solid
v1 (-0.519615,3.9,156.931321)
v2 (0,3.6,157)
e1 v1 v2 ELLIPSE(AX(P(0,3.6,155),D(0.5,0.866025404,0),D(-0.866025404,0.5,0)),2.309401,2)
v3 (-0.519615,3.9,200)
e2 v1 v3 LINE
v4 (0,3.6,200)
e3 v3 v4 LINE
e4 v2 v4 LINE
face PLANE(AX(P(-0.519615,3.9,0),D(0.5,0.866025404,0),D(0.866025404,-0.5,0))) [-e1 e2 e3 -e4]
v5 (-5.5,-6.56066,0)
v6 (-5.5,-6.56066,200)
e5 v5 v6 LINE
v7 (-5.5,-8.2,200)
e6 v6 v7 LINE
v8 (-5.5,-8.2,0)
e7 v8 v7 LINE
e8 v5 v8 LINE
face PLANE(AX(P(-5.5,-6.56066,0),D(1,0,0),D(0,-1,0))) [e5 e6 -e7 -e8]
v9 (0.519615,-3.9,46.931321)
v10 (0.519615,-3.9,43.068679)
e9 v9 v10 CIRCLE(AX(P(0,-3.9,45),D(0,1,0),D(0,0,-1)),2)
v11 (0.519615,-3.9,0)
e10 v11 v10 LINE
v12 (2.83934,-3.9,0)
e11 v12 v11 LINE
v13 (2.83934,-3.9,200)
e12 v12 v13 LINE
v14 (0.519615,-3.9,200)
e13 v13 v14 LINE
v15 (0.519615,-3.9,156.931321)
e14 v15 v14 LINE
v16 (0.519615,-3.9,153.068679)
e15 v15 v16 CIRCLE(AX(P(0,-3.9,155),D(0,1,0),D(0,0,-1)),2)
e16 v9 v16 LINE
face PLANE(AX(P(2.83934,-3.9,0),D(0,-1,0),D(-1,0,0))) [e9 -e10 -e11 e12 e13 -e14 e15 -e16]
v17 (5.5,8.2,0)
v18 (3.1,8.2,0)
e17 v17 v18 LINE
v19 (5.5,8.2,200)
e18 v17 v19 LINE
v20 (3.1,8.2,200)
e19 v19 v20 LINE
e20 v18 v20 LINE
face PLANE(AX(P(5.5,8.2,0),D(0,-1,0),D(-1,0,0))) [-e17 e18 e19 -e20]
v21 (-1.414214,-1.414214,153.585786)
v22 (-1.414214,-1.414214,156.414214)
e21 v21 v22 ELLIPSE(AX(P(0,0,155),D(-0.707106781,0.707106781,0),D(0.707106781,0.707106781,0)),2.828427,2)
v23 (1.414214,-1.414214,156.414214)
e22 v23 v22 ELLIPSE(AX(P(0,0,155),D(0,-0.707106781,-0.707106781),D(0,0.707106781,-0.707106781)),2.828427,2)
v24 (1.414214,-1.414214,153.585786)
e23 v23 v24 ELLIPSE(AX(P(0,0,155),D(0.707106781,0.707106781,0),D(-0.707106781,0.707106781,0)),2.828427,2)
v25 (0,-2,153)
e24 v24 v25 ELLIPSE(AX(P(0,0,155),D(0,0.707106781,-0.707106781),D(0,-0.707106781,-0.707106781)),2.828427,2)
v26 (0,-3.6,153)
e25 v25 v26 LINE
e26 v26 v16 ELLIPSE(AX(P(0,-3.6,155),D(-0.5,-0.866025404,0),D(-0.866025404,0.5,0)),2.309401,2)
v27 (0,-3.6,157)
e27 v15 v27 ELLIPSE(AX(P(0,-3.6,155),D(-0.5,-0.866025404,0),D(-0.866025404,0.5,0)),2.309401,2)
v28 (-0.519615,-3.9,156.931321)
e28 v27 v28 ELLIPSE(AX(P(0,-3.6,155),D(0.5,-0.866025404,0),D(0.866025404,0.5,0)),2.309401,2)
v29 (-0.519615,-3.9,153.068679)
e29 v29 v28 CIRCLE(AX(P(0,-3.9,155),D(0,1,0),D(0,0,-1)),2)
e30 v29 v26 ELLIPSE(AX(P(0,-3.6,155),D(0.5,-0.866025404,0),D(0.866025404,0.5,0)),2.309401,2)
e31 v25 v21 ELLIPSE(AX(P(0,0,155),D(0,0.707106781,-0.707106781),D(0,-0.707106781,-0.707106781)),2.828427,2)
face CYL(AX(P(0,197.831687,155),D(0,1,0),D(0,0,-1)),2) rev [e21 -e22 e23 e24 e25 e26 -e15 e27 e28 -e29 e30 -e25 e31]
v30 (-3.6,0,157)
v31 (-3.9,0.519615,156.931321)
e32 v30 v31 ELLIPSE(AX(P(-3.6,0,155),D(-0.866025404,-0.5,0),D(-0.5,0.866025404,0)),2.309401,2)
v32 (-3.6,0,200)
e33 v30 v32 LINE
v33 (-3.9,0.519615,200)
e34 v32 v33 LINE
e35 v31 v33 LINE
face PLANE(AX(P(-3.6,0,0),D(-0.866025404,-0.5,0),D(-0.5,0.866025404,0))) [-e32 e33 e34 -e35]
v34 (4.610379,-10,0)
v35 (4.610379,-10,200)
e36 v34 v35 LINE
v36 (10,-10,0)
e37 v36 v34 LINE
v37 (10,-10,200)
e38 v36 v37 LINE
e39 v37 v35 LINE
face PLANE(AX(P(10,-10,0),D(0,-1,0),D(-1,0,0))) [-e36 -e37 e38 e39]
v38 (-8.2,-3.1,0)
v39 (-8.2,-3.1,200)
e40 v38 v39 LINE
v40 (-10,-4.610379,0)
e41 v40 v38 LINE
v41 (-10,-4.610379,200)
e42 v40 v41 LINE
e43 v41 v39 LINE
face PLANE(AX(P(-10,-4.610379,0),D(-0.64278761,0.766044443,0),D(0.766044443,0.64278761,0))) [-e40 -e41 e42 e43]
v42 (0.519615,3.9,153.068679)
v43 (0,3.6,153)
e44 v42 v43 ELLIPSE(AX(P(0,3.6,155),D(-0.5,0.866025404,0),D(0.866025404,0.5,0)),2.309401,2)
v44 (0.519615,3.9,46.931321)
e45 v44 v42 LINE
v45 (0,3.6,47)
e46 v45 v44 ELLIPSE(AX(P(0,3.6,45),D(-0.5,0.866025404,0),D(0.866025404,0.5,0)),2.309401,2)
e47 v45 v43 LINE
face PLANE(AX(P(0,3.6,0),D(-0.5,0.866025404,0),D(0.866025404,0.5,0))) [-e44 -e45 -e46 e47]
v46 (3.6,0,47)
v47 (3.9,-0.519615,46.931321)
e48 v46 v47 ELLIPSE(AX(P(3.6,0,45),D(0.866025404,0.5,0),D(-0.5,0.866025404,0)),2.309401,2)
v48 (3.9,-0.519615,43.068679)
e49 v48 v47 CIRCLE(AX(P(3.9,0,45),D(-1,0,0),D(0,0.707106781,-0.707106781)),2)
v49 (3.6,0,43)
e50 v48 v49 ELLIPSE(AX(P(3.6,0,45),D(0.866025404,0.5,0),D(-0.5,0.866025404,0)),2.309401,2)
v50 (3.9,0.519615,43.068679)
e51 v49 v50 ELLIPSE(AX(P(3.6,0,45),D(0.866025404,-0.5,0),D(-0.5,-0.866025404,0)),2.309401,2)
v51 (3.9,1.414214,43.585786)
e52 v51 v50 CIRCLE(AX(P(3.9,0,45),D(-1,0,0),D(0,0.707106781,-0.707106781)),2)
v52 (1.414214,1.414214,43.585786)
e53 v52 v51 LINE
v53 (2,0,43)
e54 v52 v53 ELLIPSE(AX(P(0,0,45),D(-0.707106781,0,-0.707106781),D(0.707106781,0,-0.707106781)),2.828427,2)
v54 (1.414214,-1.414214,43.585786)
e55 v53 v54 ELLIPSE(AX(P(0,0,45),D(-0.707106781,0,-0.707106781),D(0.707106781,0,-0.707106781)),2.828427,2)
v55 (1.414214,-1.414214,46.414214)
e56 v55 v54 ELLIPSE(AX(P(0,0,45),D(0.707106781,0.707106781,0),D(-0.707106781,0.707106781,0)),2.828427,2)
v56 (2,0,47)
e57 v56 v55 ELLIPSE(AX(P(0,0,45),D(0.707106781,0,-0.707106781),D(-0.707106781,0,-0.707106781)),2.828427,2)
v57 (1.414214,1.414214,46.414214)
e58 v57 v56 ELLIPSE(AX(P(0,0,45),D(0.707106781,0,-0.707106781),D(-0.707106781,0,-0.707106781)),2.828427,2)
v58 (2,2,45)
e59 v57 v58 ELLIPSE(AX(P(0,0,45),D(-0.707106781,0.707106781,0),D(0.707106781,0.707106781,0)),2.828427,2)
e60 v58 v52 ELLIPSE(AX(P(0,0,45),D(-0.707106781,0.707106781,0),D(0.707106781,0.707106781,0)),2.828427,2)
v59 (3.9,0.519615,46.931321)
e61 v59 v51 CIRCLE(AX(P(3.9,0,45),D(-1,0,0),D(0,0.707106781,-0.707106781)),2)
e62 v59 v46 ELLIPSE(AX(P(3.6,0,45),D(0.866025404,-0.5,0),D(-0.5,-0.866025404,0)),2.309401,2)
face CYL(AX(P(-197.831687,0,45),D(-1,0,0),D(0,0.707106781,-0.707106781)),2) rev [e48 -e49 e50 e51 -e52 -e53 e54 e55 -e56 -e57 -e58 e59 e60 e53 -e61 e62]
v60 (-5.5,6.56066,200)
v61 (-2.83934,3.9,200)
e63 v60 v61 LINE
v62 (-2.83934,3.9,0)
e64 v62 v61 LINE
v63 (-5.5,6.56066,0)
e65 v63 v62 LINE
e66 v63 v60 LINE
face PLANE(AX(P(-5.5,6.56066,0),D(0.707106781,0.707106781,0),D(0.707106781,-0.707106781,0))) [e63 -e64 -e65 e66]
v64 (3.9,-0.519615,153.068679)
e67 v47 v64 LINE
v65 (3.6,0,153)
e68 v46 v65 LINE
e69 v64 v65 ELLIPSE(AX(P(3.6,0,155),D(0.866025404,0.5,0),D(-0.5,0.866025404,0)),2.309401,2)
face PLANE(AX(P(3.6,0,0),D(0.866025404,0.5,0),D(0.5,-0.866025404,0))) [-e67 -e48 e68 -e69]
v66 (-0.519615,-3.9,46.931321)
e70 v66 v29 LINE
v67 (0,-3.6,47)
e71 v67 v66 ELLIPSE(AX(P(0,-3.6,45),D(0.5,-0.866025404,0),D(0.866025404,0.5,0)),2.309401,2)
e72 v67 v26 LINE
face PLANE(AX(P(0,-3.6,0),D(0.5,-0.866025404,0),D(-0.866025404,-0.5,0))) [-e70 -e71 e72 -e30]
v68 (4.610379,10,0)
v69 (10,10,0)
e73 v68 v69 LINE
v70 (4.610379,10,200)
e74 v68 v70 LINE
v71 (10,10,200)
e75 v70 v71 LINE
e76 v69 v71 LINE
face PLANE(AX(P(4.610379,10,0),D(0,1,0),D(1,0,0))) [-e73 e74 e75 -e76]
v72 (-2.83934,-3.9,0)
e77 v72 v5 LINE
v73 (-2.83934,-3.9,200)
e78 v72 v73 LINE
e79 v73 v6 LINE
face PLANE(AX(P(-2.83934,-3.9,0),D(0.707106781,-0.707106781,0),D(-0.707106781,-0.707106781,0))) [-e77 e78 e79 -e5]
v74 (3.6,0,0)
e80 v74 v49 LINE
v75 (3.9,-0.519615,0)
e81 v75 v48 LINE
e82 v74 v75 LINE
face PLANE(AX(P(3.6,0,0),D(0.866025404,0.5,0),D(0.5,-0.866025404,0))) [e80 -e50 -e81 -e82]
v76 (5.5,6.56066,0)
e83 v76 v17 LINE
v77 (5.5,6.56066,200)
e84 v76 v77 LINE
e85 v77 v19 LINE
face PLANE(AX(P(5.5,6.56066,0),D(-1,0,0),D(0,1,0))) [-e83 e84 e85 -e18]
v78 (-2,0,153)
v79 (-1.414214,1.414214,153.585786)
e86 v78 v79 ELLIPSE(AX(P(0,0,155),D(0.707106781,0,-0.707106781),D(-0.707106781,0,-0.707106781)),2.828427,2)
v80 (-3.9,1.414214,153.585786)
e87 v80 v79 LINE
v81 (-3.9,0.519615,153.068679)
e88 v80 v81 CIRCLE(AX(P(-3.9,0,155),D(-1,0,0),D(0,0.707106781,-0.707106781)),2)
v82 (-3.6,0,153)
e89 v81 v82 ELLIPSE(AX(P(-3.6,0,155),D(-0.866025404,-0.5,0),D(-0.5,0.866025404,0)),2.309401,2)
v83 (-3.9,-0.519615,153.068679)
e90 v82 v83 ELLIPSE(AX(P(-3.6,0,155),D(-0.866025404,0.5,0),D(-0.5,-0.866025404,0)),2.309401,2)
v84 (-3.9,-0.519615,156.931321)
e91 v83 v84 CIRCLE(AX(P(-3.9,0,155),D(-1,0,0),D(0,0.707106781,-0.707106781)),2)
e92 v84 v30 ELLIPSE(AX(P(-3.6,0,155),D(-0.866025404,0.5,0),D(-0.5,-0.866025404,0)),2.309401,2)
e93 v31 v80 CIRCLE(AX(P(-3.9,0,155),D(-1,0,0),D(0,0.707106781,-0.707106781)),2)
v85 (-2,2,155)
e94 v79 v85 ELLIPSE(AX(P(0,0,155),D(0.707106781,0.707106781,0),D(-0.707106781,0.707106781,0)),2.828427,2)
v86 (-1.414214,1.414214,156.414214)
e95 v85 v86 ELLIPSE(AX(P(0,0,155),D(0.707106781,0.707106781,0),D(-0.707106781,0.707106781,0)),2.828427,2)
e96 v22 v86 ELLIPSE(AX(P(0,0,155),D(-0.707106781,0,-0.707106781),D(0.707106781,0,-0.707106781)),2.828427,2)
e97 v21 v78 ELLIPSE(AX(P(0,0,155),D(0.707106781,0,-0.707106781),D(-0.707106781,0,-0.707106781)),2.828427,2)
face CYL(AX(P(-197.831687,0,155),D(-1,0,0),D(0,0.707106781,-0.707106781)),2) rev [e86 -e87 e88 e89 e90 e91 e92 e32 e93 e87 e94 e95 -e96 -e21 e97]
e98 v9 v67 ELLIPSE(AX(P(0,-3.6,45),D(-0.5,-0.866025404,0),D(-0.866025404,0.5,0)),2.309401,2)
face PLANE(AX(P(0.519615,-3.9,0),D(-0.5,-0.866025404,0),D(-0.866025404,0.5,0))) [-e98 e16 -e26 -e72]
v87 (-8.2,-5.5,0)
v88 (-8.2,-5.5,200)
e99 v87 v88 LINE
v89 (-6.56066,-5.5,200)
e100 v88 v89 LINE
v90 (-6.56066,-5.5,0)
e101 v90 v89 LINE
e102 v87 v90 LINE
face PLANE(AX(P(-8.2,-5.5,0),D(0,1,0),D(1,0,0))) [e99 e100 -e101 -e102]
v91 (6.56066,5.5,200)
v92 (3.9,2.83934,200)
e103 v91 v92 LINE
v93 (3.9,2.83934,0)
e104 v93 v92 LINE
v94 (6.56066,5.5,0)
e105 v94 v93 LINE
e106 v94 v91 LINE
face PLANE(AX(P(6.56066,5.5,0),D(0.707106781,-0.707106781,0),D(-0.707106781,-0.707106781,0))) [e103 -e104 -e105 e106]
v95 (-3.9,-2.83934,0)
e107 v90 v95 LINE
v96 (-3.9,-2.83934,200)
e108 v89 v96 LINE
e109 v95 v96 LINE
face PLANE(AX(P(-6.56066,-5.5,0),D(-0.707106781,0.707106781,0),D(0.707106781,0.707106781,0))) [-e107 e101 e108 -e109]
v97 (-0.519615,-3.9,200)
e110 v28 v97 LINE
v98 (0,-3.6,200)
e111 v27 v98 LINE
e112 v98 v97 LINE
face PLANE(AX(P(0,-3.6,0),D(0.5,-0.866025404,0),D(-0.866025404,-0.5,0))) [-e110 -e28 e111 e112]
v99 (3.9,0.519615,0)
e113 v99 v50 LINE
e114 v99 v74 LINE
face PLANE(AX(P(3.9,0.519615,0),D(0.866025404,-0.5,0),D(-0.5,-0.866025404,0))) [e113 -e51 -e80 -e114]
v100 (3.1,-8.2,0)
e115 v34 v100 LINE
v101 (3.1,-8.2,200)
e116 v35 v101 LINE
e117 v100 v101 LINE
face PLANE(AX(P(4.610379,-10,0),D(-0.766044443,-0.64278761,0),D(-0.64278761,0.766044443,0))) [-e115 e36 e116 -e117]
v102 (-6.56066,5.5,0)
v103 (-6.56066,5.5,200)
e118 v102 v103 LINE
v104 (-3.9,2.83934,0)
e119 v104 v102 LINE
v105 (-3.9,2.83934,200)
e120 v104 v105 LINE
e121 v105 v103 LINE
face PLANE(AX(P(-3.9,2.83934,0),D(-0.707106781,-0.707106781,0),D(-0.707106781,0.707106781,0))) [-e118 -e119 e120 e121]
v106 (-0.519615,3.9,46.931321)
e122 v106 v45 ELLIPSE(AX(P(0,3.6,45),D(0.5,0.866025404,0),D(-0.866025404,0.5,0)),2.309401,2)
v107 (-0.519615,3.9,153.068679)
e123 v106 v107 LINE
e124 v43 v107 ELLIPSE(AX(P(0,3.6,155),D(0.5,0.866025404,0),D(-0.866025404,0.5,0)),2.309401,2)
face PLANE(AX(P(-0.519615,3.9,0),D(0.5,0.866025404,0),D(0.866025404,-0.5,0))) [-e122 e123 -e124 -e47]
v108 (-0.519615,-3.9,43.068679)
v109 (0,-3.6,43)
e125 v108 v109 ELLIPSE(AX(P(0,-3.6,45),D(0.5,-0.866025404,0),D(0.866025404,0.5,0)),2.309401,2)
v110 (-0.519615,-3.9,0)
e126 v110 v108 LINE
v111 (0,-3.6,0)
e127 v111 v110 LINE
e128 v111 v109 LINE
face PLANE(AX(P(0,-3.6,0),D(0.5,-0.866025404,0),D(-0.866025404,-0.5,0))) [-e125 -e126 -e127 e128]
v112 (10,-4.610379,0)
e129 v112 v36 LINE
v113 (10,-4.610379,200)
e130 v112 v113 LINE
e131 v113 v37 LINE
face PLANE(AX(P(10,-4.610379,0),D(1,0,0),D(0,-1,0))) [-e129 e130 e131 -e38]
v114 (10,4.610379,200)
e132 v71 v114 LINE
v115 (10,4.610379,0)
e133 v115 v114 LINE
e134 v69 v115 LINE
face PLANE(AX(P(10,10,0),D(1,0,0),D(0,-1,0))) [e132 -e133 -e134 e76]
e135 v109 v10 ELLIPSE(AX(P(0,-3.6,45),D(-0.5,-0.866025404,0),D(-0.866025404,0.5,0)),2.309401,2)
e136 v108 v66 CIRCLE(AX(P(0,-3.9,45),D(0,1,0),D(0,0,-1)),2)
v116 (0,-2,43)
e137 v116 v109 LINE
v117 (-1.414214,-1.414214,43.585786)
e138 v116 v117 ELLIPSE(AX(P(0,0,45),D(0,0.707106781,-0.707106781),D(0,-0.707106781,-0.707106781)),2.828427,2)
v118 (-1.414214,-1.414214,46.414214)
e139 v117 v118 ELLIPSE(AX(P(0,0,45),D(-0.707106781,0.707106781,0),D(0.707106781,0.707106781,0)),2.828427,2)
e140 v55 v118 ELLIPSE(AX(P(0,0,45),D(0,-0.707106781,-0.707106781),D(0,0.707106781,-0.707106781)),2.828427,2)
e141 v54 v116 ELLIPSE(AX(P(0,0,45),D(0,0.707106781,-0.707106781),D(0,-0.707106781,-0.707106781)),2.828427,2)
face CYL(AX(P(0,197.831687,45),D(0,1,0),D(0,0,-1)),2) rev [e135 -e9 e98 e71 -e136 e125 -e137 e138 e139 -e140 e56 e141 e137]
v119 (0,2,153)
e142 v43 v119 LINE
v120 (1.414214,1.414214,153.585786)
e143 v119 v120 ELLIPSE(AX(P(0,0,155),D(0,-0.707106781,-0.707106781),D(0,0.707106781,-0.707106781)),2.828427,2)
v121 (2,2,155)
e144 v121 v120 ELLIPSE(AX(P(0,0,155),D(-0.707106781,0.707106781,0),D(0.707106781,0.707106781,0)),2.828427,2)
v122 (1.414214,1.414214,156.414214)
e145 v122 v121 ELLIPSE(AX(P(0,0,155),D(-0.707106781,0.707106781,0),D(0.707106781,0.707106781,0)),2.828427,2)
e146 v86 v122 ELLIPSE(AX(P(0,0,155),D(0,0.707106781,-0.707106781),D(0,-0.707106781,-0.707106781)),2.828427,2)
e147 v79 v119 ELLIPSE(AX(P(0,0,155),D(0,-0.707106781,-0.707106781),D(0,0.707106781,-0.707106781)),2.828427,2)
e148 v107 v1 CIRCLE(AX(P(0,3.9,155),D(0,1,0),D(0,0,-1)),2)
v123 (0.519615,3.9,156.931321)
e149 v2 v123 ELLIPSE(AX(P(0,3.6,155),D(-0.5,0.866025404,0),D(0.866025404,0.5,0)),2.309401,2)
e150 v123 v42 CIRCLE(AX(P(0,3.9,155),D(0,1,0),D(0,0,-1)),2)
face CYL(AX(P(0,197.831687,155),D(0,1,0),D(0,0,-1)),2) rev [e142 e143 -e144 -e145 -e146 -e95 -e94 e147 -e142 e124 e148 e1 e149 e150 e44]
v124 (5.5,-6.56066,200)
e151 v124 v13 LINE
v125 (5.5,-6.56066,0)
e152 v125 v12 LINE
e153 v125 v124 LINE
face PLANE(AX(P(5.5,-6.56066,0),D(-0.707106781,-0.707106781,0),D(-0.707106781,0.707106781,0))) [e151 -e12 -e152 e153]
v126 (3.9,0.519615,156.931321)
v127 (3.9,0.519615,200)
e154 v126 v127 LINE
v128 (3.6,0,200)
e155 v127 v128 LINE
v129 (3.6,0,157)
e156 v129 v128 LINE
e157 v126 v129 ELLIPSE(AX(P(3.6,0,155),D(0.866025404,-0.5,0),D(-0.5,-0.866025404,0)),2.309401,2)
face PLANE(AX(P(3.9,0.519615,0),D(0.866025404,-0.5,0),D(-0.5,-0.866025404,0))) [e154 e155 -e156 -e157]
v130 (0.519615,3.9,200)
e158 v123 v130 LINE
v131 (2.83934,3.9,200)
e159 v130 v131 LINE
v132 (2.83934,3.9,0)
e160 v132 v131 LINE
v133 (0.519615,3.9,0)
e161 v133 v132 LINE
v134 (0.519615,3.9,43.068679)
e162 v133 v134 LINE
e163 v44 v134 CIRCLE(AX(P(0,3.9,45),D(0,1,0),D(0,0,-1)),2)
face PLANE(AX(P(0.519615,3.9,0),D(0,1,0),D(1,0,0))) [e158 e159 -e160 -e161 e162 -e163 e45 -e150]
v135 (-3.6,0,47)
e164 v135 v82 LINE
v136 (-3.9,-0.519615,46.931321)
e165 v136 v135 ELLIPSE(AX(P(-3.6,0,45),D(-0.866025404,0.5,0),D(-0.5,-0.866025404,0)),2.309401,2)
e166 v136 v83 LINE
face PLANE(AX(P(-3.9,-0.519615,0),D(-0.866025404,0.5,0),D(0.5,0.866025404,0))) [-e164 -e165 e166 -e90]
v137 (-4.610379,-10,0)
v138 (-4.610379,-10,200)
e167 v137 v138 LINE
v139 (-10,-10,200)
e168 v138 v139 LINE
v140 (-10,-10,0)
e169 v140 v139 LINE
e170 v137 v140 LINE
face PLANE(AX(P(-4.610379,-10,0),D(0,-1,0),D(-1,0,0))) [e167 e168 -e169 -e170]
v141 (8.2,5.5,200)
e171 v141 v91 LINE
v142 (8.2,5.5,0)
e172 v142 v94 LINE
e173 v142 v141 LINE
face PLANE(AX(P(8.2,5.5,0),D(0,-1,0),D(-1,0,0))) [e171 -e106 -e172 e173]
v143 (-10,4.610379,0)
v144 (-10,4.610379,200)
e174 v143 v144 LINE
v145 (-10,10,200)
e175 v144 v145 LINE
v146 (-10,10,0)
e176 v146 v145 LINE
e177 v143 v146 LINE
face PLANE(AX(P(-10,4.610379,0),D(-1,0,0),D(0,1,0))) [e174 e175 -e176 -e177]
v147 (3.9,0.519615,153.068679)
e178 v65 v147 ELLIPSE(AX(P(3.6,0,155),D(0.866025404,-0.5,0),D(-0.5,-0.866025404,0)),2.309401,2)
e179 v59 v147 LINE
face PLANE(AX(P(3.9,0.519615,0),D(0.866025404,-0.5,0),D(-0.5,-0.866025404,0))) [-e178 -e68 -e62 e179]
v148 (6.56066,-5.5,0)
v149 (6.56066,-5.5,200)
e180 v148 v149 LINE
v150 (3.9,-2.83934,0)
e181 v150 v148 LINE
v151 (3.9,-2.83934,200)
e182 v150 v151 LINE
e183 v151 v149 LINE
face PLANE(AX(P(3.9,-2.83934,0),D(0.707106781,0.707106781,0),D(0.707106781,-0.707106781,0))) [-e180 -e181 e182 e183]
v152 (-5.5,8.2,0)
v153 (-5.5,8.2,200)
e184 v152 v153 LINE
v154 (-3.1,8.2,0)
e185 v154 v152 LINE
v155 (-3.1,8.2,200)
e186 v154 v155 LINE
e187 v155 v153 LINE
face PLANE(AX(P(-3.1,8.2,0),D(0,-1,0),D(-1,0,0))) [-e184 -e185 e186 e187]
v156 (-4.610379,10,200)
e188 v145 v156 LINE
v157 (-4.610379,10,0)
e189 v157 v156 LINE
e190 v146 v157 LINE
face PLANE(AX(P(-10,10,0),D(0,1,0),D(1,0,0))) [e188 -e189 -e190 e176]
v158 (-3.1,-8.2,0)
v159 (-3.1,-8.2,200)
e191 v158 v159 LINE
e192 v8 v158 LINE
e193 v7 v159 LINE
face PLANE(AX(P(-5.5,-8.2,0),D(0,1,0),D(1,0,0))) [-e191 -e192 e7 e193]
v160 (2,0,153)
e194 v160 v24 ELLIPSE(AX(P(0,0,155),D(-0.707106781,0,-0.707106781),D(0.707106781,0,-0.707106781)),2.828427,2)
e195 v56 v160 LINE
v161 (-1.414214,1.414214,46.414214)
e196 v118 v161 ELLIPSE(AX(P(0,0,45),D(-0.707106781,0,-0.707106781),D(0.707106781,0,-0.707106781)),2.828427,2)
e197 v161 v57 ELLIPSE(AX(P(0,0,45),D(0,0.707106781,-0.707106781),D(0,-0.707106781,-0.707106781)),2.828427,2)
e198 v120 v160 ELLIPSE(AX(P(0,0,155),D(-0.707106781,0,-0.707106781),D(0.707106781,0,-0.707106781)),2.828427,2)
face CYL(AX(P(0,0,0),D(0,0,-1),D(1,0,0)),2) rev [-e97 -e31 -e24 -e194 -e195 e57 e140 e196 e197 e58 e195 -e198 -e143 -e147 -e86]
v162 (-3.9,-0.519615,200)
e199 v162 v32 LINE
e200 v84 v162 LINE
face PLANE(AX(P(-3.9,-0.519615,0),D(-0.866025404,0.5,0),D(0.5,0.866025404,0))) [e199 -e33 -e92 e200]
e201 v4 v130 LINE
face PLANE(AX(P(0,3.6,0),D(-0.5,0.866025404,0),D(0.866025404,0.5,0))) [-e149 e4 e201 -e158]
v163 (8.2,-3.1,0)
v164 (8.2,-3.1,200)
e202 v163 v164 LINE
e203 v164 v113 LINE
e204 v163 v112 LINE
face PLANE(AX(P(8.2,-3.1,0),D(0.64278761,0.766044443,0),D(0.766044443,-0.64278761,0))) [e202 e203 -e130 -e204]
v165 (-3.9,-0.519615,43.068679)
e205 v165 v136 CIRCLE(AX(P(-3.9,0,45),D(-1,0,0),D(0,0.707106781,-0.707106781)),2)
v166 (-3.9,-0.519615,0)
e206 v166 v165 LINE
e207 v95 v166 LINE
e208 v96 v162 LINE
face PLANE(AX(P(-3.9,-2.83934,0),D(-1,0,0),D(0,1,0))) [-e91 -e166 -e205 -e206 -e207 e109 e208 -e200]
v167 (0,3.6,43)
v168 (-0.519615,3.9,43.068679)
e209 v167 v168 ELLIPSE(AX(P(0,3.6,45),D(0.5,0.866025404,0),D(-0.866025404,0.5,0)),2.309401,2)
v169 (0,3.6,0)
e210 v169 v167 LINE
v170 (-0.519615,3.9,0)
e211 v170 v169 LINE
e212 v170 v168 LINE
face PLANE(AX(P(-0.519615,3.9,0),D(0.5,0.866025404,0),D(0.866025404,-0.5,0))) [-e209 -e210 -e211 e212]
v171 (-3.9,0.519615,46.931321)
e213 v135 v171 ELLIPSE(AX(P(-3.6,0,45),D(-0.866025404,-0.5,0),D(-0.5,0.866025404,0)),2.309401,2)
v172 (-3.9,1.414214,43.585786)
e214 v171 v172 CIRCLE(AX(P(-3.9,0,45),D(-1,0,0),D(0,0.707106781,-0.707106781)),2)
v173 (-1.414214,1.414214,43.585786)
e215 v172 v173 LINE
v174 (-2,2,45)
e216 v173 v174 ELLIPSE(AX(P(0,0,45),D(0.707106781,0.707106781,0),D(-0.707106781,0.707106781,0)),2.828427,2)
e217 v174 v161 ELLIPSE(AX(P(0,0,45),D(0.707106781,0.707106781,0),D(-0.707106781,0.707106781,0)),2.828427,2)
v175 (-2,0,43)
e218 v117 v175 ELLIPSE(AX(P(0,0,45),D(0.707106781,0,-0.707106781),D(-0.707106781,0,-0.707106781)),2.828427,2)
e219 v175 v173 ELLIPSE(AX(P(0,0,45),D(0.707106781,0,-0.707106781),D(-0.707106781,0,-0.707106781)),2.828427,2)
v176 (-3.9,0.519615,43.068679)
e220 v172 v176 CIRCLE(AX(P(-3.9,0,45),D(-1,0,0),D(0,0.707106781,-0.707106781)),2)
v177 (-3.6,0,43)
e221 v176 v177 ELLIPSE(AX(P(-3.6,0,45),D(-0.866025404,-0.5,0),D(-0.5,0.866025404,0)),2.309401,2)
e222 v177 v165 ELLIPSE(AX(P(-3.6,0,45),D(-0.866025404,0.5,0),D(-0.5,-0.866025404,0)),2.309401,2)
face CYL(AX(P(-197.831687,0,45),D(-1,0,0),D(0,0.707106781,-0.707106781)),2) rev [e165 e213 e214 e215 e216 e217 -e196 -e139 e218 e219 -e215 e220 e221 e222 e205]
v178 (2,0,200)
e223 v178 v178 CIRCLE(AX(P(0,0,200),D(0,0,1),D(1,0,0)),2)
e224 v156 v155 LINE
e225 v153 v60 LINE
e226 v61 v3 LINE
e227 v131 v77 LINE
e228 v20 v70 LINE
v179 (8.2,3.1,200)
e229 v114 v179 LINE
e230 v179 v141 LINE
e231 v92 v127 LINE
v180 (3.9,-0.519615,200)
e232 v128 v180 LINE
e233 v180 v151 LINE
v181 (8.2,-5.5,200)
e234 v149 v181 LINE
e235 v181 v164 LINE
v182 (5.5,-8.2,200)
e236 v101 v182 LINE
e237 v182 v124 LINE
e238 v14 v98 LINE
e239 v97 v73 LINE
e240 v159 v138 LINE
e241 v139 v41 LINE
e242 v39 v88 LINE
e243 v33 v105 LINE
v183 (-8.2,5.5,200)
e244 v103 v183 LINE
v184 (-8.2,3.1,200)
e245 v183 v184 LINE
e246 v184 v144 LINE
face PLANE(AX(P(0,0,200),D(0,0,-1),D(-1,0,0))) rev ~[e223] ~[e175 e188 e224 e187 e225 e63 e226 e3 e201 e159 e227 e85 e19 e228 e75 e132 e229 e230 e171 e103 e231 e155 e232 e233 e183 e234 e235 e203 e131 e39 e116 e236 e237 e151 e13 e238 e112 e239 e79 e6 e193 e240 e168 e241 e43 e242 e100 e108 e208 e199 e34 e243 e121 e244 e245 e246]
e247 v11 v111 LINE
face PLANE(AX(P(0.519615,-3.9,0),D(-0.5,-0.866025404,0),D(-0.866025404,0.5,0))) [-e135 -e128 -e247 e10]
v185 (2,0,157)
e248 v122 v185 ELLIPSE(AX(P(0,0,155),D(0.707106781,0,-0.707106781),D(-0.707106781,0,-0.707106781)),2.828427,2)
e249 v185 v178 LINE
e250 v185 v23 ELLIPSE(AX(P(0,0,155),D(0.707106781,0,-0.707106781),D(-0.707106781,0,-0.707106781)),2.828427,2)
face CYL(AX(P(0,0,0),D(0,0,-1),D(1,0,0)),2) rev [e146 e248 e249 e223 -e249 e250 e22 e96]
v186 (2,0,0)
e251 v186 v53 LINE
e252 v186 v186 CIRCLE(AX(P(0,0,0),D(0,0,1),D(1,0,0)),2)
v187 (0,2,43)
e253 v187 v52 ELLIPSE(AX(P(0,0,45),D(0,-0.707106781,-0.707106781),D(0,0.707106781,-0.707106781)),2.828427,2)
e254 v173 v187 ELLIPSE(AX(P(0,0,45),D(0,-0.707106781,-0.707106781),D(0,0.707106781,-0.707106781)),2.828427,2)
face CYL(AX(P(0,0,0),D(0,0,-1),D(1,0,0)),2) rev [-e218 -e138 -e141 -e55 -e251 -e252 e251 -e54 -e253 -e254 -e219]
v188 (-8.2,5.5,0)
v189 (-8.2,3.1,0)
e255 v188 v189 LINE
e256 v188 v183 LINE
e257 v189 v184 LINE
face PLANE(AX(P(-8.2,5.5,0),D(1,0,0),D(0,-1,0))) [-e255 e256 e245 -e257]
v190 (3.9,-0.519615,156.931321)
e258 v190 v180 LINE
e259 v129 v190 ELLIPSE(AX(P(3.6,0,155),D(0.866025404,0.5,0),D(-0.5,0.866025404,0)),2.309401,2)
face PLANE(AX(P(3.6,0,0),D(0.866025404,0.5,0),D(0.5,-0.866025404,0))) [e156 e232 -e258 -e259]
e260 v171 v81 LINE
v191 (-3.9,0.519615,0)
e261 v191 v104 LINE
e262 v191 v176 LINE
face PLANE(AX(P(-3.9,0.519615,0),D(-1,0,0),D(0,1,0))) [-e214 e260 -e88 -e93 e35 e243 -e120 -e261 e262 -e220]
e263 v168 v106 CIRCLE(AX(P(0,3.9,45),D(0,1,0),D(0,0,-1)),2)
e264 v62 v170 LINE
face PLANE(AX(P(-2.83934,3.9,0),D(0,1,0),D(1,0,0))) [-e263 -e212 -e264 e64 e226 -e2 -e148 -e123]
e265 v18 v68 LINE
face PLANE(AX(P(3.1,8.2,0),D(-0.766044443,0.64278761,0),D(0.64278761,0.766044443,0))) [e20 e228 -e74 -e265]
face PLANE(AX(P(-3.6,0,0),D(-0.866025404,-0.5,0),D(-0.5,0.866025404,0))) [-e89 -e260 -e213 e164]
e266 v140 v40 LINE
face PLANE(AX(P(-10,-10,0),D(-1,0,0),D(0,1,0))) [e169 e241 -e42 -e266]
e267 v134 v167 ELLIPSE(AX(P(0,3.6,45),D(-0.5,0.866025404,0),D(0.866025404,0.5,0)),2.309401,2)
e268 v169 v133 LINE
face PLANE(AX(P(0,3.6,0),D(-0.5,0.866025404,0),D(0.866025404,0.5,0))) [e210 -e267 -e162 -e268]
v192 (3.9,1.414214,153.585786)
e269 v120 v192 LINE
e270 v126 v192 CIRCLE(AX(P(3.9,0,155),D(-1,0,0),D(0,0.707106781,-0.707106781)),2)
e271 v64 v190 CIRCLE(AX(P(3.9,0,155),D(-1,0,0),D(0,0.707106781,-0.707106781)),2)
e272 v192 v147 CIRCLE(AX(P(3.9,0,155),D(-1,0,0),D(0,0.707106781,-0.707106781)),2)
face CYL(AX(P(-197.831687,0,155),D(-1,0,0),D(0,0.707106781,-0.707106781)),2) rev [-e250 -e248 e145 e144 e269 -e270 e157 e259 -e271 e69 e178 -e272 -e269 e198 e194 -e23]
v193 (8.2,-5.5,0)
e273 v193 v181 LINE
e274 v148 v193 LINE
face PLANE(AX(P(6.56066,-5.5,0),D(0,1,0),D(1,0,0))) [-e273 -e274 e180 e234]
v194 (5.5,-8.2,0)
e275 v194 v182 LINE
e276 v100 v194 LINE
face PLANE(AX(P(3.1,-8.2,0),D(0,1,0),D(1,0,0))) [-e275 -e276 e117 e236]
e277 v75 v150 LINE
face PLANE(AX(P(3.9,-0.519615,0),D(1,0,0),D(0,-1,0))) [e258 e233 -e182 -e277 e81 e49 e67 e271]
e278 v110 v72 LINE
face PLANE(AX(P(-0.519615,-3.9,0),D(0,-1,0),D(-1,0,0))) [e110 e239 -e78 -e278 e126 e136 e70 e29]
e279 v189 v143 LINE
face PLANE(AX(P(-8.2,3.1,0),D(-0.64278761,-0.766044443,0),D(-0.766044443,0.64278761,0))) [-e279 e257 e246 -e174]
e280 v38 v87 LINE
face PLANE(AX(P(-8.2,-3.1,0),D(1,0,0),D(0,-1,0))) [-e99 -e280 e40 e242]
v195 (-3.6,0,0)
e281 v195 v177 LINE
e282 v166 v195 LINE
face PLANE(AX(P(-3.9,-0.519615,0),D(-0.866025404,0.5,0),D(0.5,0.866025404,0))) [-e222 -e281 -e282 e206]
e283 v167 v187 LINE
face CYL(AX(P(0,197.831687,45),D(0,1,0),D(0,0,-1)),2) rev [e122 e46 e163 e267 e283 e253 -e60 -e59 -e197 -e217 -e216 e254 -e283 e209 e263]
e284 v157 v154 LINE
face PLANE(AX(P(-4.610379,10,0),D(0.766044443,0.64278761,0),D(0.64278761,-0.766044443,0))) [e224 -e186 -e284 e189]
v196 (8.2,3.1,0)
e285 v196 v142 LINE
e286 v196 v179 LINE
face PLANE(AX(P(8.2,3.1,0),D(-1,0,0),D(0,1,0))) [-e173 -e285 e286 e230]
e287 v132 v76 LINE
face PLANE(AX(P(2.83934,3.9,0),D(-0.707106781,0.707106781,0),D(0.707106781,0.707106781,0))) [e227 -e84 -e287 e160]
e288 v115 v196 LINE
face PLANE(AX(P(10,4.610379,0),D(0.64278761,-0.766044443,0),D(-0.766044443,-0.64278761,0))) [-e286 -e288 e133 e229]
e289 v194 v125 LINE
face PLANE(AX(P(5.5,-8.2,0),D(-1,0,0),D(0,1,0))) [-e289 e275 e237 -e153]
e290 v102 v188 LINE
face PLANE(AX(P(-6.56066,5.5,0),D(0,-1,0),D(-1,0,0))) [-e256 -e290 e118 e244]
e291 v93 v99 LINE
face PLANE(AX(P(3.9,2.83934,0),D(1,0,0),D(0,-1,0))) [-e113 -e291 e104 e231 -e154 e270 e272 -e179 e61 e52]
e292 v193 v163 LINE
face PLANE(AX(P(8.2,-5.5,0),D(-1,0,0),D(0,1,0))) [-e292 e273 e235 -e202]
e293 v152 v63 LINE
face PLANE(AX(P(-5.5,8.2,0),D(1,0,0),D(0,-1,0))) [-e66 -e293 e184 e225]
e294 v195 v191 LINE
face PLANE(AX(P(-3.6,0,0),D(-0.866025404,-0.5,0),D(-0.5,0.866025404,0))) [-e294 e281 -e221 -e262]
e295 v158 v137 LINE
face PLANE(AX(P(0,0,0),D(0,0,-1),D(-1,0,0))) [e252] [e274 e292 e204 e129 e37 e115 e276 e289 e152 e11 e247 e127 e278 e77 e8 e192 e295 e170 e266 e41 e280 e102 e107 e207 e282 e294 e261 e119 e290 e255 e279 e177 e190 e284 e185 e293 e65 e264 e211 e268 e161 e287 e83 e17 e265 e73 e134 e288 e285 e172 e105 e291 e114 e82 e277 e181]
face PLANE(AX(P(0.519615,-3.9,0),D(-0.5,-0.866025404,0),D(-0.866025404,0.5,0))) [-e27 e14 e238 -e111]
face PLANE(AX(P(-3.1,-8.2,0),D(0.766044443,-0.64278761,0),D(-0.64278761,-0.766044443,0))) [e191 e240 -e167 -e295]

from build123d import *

# Parameters (mm, degrees)
SKETCH1_R               = 2
BOSS_EXTRUDE1_DEPTH     = 200
CUT_EXTRUDE1_DEPTH      = 201.731686587
CUT_EXTRUDE1_DEPTH_BACK = 201.731686587
SKETCH2_R               = 2
CUT_EXTRUDE2_DEPTH      = 201.731686587
CUT_EXTRUDE2_DEPTH_BACK = 201.731686587
SKETCH3_R               = 2


with BuildPart() as part:
    # Sketch1 → Boss-Extrude1 (new body)
    with BuildSketch(Plane.XY):
        Polygon((10, 10), (10, 4.610379336), (8.2, 3.1), (8.2, 5.5), (6.560660172, 5.5), (3.9, 2.839339828), (3.9, 0.519615242), (3.6, 0), (3.9, -0.519615242), (3.9, -2.839339828), (6.560660172, -5.5), (8.2, -5.5), (8.2, -3.1), (10, -4.610379336), (10, -10), (4.610379336, -10), (3.1, -8.2), (5.5, -8.2), (5.5, -6.560660172), (2.839339828, -3.9), (0.519615242, -3.9), (0, -3.6), (-0.519615242, -3.9), (-2.839339828, -3.9), (-5.5, -6.560660172), (-5.5, -8.2), (-3.1, -8.2), (-4.610379336, -10), (-10, -10), (-10, -4.610379336), (-8.2, -3.1), (-8.2, -5.5), (-6.560660172, -5.5), (-3.9, -2.839339828), (-3.9, -0.519615242), (-3.6, 0), (-3.9, 0.519615242), (-3.9, 2.839339828), (-6.560660172, 5.5), (-8.2, 5.5), (-8.2, 3.1), (-10, 4.610379336), (-10, 10), (-4.610379336, 10), (-3.1, 8.2), (-5.5, 8.2), (-5.5, 6.560660172), (-2.839339828, 3.9), (-0.519615242, 3.9), (0, 3.6), (0.519615242, 3.9), (2.839339828, 3.9), (5.5, 6.560660172), (5.5, 8.2), (3.1, 8.2), (4.610379336, 10), align=None)
        Circle(SKETCH1_R, mode=Mode.SUBTRACT)
    extrude(amount=BOSS_EXTRUDE1_DEPTH)

    # Sketch2 → Cut-Extrude1 (cut, two sides: drawn at the far end of the back side and taken through both)
    with BuildSketch(Plane(origin=(0, -3.9, 0), x_dir=(-1, 0, 0), z_dir=(0, -1, 0)).offset(-CUT_EXTRUDE1_DEPTH_BACK)):
        with Locations(Location((0, -155, 0), (0, 0, 90))):
            Circle(SKETCH2_R)
        with Locations(Location((0, -45, 0), (0, 0, 90))):
            Circle(SKETCH2_R)
    extrude(amount=CUT_EXTRUDE1_DEPTH + CUT_EXTRUDE1_DEPTH_BACK, mode=Mode.SUBTRACT)

    # Sketch3 → Cut-Extrude2 (cut, two sides: drawn at the far end of the back side and taken through both)
    with BuildSketch(Plane(origin=(3.9, 0, 0), x_dir=(0, 0, -1), z_dir=(1, 0, 0)).offset(-CUT_EXTRUDE2_DEPTH_BACK)):
        with Locations(Location((-45, 0, 0), (0, 0, 45))):
            Circle(SKETCH3_R)
        with Locations(Location((-155, 0, 0), (0, 0, 45))):
            Circle(SKETCH3_R)
    extrude(amount=CUT_EXTRUDE2_DEPTH + CUT_EXTRUDE2_DEPTH_BACK, mode=Mode.SUBTRACT)


solid = part.part
